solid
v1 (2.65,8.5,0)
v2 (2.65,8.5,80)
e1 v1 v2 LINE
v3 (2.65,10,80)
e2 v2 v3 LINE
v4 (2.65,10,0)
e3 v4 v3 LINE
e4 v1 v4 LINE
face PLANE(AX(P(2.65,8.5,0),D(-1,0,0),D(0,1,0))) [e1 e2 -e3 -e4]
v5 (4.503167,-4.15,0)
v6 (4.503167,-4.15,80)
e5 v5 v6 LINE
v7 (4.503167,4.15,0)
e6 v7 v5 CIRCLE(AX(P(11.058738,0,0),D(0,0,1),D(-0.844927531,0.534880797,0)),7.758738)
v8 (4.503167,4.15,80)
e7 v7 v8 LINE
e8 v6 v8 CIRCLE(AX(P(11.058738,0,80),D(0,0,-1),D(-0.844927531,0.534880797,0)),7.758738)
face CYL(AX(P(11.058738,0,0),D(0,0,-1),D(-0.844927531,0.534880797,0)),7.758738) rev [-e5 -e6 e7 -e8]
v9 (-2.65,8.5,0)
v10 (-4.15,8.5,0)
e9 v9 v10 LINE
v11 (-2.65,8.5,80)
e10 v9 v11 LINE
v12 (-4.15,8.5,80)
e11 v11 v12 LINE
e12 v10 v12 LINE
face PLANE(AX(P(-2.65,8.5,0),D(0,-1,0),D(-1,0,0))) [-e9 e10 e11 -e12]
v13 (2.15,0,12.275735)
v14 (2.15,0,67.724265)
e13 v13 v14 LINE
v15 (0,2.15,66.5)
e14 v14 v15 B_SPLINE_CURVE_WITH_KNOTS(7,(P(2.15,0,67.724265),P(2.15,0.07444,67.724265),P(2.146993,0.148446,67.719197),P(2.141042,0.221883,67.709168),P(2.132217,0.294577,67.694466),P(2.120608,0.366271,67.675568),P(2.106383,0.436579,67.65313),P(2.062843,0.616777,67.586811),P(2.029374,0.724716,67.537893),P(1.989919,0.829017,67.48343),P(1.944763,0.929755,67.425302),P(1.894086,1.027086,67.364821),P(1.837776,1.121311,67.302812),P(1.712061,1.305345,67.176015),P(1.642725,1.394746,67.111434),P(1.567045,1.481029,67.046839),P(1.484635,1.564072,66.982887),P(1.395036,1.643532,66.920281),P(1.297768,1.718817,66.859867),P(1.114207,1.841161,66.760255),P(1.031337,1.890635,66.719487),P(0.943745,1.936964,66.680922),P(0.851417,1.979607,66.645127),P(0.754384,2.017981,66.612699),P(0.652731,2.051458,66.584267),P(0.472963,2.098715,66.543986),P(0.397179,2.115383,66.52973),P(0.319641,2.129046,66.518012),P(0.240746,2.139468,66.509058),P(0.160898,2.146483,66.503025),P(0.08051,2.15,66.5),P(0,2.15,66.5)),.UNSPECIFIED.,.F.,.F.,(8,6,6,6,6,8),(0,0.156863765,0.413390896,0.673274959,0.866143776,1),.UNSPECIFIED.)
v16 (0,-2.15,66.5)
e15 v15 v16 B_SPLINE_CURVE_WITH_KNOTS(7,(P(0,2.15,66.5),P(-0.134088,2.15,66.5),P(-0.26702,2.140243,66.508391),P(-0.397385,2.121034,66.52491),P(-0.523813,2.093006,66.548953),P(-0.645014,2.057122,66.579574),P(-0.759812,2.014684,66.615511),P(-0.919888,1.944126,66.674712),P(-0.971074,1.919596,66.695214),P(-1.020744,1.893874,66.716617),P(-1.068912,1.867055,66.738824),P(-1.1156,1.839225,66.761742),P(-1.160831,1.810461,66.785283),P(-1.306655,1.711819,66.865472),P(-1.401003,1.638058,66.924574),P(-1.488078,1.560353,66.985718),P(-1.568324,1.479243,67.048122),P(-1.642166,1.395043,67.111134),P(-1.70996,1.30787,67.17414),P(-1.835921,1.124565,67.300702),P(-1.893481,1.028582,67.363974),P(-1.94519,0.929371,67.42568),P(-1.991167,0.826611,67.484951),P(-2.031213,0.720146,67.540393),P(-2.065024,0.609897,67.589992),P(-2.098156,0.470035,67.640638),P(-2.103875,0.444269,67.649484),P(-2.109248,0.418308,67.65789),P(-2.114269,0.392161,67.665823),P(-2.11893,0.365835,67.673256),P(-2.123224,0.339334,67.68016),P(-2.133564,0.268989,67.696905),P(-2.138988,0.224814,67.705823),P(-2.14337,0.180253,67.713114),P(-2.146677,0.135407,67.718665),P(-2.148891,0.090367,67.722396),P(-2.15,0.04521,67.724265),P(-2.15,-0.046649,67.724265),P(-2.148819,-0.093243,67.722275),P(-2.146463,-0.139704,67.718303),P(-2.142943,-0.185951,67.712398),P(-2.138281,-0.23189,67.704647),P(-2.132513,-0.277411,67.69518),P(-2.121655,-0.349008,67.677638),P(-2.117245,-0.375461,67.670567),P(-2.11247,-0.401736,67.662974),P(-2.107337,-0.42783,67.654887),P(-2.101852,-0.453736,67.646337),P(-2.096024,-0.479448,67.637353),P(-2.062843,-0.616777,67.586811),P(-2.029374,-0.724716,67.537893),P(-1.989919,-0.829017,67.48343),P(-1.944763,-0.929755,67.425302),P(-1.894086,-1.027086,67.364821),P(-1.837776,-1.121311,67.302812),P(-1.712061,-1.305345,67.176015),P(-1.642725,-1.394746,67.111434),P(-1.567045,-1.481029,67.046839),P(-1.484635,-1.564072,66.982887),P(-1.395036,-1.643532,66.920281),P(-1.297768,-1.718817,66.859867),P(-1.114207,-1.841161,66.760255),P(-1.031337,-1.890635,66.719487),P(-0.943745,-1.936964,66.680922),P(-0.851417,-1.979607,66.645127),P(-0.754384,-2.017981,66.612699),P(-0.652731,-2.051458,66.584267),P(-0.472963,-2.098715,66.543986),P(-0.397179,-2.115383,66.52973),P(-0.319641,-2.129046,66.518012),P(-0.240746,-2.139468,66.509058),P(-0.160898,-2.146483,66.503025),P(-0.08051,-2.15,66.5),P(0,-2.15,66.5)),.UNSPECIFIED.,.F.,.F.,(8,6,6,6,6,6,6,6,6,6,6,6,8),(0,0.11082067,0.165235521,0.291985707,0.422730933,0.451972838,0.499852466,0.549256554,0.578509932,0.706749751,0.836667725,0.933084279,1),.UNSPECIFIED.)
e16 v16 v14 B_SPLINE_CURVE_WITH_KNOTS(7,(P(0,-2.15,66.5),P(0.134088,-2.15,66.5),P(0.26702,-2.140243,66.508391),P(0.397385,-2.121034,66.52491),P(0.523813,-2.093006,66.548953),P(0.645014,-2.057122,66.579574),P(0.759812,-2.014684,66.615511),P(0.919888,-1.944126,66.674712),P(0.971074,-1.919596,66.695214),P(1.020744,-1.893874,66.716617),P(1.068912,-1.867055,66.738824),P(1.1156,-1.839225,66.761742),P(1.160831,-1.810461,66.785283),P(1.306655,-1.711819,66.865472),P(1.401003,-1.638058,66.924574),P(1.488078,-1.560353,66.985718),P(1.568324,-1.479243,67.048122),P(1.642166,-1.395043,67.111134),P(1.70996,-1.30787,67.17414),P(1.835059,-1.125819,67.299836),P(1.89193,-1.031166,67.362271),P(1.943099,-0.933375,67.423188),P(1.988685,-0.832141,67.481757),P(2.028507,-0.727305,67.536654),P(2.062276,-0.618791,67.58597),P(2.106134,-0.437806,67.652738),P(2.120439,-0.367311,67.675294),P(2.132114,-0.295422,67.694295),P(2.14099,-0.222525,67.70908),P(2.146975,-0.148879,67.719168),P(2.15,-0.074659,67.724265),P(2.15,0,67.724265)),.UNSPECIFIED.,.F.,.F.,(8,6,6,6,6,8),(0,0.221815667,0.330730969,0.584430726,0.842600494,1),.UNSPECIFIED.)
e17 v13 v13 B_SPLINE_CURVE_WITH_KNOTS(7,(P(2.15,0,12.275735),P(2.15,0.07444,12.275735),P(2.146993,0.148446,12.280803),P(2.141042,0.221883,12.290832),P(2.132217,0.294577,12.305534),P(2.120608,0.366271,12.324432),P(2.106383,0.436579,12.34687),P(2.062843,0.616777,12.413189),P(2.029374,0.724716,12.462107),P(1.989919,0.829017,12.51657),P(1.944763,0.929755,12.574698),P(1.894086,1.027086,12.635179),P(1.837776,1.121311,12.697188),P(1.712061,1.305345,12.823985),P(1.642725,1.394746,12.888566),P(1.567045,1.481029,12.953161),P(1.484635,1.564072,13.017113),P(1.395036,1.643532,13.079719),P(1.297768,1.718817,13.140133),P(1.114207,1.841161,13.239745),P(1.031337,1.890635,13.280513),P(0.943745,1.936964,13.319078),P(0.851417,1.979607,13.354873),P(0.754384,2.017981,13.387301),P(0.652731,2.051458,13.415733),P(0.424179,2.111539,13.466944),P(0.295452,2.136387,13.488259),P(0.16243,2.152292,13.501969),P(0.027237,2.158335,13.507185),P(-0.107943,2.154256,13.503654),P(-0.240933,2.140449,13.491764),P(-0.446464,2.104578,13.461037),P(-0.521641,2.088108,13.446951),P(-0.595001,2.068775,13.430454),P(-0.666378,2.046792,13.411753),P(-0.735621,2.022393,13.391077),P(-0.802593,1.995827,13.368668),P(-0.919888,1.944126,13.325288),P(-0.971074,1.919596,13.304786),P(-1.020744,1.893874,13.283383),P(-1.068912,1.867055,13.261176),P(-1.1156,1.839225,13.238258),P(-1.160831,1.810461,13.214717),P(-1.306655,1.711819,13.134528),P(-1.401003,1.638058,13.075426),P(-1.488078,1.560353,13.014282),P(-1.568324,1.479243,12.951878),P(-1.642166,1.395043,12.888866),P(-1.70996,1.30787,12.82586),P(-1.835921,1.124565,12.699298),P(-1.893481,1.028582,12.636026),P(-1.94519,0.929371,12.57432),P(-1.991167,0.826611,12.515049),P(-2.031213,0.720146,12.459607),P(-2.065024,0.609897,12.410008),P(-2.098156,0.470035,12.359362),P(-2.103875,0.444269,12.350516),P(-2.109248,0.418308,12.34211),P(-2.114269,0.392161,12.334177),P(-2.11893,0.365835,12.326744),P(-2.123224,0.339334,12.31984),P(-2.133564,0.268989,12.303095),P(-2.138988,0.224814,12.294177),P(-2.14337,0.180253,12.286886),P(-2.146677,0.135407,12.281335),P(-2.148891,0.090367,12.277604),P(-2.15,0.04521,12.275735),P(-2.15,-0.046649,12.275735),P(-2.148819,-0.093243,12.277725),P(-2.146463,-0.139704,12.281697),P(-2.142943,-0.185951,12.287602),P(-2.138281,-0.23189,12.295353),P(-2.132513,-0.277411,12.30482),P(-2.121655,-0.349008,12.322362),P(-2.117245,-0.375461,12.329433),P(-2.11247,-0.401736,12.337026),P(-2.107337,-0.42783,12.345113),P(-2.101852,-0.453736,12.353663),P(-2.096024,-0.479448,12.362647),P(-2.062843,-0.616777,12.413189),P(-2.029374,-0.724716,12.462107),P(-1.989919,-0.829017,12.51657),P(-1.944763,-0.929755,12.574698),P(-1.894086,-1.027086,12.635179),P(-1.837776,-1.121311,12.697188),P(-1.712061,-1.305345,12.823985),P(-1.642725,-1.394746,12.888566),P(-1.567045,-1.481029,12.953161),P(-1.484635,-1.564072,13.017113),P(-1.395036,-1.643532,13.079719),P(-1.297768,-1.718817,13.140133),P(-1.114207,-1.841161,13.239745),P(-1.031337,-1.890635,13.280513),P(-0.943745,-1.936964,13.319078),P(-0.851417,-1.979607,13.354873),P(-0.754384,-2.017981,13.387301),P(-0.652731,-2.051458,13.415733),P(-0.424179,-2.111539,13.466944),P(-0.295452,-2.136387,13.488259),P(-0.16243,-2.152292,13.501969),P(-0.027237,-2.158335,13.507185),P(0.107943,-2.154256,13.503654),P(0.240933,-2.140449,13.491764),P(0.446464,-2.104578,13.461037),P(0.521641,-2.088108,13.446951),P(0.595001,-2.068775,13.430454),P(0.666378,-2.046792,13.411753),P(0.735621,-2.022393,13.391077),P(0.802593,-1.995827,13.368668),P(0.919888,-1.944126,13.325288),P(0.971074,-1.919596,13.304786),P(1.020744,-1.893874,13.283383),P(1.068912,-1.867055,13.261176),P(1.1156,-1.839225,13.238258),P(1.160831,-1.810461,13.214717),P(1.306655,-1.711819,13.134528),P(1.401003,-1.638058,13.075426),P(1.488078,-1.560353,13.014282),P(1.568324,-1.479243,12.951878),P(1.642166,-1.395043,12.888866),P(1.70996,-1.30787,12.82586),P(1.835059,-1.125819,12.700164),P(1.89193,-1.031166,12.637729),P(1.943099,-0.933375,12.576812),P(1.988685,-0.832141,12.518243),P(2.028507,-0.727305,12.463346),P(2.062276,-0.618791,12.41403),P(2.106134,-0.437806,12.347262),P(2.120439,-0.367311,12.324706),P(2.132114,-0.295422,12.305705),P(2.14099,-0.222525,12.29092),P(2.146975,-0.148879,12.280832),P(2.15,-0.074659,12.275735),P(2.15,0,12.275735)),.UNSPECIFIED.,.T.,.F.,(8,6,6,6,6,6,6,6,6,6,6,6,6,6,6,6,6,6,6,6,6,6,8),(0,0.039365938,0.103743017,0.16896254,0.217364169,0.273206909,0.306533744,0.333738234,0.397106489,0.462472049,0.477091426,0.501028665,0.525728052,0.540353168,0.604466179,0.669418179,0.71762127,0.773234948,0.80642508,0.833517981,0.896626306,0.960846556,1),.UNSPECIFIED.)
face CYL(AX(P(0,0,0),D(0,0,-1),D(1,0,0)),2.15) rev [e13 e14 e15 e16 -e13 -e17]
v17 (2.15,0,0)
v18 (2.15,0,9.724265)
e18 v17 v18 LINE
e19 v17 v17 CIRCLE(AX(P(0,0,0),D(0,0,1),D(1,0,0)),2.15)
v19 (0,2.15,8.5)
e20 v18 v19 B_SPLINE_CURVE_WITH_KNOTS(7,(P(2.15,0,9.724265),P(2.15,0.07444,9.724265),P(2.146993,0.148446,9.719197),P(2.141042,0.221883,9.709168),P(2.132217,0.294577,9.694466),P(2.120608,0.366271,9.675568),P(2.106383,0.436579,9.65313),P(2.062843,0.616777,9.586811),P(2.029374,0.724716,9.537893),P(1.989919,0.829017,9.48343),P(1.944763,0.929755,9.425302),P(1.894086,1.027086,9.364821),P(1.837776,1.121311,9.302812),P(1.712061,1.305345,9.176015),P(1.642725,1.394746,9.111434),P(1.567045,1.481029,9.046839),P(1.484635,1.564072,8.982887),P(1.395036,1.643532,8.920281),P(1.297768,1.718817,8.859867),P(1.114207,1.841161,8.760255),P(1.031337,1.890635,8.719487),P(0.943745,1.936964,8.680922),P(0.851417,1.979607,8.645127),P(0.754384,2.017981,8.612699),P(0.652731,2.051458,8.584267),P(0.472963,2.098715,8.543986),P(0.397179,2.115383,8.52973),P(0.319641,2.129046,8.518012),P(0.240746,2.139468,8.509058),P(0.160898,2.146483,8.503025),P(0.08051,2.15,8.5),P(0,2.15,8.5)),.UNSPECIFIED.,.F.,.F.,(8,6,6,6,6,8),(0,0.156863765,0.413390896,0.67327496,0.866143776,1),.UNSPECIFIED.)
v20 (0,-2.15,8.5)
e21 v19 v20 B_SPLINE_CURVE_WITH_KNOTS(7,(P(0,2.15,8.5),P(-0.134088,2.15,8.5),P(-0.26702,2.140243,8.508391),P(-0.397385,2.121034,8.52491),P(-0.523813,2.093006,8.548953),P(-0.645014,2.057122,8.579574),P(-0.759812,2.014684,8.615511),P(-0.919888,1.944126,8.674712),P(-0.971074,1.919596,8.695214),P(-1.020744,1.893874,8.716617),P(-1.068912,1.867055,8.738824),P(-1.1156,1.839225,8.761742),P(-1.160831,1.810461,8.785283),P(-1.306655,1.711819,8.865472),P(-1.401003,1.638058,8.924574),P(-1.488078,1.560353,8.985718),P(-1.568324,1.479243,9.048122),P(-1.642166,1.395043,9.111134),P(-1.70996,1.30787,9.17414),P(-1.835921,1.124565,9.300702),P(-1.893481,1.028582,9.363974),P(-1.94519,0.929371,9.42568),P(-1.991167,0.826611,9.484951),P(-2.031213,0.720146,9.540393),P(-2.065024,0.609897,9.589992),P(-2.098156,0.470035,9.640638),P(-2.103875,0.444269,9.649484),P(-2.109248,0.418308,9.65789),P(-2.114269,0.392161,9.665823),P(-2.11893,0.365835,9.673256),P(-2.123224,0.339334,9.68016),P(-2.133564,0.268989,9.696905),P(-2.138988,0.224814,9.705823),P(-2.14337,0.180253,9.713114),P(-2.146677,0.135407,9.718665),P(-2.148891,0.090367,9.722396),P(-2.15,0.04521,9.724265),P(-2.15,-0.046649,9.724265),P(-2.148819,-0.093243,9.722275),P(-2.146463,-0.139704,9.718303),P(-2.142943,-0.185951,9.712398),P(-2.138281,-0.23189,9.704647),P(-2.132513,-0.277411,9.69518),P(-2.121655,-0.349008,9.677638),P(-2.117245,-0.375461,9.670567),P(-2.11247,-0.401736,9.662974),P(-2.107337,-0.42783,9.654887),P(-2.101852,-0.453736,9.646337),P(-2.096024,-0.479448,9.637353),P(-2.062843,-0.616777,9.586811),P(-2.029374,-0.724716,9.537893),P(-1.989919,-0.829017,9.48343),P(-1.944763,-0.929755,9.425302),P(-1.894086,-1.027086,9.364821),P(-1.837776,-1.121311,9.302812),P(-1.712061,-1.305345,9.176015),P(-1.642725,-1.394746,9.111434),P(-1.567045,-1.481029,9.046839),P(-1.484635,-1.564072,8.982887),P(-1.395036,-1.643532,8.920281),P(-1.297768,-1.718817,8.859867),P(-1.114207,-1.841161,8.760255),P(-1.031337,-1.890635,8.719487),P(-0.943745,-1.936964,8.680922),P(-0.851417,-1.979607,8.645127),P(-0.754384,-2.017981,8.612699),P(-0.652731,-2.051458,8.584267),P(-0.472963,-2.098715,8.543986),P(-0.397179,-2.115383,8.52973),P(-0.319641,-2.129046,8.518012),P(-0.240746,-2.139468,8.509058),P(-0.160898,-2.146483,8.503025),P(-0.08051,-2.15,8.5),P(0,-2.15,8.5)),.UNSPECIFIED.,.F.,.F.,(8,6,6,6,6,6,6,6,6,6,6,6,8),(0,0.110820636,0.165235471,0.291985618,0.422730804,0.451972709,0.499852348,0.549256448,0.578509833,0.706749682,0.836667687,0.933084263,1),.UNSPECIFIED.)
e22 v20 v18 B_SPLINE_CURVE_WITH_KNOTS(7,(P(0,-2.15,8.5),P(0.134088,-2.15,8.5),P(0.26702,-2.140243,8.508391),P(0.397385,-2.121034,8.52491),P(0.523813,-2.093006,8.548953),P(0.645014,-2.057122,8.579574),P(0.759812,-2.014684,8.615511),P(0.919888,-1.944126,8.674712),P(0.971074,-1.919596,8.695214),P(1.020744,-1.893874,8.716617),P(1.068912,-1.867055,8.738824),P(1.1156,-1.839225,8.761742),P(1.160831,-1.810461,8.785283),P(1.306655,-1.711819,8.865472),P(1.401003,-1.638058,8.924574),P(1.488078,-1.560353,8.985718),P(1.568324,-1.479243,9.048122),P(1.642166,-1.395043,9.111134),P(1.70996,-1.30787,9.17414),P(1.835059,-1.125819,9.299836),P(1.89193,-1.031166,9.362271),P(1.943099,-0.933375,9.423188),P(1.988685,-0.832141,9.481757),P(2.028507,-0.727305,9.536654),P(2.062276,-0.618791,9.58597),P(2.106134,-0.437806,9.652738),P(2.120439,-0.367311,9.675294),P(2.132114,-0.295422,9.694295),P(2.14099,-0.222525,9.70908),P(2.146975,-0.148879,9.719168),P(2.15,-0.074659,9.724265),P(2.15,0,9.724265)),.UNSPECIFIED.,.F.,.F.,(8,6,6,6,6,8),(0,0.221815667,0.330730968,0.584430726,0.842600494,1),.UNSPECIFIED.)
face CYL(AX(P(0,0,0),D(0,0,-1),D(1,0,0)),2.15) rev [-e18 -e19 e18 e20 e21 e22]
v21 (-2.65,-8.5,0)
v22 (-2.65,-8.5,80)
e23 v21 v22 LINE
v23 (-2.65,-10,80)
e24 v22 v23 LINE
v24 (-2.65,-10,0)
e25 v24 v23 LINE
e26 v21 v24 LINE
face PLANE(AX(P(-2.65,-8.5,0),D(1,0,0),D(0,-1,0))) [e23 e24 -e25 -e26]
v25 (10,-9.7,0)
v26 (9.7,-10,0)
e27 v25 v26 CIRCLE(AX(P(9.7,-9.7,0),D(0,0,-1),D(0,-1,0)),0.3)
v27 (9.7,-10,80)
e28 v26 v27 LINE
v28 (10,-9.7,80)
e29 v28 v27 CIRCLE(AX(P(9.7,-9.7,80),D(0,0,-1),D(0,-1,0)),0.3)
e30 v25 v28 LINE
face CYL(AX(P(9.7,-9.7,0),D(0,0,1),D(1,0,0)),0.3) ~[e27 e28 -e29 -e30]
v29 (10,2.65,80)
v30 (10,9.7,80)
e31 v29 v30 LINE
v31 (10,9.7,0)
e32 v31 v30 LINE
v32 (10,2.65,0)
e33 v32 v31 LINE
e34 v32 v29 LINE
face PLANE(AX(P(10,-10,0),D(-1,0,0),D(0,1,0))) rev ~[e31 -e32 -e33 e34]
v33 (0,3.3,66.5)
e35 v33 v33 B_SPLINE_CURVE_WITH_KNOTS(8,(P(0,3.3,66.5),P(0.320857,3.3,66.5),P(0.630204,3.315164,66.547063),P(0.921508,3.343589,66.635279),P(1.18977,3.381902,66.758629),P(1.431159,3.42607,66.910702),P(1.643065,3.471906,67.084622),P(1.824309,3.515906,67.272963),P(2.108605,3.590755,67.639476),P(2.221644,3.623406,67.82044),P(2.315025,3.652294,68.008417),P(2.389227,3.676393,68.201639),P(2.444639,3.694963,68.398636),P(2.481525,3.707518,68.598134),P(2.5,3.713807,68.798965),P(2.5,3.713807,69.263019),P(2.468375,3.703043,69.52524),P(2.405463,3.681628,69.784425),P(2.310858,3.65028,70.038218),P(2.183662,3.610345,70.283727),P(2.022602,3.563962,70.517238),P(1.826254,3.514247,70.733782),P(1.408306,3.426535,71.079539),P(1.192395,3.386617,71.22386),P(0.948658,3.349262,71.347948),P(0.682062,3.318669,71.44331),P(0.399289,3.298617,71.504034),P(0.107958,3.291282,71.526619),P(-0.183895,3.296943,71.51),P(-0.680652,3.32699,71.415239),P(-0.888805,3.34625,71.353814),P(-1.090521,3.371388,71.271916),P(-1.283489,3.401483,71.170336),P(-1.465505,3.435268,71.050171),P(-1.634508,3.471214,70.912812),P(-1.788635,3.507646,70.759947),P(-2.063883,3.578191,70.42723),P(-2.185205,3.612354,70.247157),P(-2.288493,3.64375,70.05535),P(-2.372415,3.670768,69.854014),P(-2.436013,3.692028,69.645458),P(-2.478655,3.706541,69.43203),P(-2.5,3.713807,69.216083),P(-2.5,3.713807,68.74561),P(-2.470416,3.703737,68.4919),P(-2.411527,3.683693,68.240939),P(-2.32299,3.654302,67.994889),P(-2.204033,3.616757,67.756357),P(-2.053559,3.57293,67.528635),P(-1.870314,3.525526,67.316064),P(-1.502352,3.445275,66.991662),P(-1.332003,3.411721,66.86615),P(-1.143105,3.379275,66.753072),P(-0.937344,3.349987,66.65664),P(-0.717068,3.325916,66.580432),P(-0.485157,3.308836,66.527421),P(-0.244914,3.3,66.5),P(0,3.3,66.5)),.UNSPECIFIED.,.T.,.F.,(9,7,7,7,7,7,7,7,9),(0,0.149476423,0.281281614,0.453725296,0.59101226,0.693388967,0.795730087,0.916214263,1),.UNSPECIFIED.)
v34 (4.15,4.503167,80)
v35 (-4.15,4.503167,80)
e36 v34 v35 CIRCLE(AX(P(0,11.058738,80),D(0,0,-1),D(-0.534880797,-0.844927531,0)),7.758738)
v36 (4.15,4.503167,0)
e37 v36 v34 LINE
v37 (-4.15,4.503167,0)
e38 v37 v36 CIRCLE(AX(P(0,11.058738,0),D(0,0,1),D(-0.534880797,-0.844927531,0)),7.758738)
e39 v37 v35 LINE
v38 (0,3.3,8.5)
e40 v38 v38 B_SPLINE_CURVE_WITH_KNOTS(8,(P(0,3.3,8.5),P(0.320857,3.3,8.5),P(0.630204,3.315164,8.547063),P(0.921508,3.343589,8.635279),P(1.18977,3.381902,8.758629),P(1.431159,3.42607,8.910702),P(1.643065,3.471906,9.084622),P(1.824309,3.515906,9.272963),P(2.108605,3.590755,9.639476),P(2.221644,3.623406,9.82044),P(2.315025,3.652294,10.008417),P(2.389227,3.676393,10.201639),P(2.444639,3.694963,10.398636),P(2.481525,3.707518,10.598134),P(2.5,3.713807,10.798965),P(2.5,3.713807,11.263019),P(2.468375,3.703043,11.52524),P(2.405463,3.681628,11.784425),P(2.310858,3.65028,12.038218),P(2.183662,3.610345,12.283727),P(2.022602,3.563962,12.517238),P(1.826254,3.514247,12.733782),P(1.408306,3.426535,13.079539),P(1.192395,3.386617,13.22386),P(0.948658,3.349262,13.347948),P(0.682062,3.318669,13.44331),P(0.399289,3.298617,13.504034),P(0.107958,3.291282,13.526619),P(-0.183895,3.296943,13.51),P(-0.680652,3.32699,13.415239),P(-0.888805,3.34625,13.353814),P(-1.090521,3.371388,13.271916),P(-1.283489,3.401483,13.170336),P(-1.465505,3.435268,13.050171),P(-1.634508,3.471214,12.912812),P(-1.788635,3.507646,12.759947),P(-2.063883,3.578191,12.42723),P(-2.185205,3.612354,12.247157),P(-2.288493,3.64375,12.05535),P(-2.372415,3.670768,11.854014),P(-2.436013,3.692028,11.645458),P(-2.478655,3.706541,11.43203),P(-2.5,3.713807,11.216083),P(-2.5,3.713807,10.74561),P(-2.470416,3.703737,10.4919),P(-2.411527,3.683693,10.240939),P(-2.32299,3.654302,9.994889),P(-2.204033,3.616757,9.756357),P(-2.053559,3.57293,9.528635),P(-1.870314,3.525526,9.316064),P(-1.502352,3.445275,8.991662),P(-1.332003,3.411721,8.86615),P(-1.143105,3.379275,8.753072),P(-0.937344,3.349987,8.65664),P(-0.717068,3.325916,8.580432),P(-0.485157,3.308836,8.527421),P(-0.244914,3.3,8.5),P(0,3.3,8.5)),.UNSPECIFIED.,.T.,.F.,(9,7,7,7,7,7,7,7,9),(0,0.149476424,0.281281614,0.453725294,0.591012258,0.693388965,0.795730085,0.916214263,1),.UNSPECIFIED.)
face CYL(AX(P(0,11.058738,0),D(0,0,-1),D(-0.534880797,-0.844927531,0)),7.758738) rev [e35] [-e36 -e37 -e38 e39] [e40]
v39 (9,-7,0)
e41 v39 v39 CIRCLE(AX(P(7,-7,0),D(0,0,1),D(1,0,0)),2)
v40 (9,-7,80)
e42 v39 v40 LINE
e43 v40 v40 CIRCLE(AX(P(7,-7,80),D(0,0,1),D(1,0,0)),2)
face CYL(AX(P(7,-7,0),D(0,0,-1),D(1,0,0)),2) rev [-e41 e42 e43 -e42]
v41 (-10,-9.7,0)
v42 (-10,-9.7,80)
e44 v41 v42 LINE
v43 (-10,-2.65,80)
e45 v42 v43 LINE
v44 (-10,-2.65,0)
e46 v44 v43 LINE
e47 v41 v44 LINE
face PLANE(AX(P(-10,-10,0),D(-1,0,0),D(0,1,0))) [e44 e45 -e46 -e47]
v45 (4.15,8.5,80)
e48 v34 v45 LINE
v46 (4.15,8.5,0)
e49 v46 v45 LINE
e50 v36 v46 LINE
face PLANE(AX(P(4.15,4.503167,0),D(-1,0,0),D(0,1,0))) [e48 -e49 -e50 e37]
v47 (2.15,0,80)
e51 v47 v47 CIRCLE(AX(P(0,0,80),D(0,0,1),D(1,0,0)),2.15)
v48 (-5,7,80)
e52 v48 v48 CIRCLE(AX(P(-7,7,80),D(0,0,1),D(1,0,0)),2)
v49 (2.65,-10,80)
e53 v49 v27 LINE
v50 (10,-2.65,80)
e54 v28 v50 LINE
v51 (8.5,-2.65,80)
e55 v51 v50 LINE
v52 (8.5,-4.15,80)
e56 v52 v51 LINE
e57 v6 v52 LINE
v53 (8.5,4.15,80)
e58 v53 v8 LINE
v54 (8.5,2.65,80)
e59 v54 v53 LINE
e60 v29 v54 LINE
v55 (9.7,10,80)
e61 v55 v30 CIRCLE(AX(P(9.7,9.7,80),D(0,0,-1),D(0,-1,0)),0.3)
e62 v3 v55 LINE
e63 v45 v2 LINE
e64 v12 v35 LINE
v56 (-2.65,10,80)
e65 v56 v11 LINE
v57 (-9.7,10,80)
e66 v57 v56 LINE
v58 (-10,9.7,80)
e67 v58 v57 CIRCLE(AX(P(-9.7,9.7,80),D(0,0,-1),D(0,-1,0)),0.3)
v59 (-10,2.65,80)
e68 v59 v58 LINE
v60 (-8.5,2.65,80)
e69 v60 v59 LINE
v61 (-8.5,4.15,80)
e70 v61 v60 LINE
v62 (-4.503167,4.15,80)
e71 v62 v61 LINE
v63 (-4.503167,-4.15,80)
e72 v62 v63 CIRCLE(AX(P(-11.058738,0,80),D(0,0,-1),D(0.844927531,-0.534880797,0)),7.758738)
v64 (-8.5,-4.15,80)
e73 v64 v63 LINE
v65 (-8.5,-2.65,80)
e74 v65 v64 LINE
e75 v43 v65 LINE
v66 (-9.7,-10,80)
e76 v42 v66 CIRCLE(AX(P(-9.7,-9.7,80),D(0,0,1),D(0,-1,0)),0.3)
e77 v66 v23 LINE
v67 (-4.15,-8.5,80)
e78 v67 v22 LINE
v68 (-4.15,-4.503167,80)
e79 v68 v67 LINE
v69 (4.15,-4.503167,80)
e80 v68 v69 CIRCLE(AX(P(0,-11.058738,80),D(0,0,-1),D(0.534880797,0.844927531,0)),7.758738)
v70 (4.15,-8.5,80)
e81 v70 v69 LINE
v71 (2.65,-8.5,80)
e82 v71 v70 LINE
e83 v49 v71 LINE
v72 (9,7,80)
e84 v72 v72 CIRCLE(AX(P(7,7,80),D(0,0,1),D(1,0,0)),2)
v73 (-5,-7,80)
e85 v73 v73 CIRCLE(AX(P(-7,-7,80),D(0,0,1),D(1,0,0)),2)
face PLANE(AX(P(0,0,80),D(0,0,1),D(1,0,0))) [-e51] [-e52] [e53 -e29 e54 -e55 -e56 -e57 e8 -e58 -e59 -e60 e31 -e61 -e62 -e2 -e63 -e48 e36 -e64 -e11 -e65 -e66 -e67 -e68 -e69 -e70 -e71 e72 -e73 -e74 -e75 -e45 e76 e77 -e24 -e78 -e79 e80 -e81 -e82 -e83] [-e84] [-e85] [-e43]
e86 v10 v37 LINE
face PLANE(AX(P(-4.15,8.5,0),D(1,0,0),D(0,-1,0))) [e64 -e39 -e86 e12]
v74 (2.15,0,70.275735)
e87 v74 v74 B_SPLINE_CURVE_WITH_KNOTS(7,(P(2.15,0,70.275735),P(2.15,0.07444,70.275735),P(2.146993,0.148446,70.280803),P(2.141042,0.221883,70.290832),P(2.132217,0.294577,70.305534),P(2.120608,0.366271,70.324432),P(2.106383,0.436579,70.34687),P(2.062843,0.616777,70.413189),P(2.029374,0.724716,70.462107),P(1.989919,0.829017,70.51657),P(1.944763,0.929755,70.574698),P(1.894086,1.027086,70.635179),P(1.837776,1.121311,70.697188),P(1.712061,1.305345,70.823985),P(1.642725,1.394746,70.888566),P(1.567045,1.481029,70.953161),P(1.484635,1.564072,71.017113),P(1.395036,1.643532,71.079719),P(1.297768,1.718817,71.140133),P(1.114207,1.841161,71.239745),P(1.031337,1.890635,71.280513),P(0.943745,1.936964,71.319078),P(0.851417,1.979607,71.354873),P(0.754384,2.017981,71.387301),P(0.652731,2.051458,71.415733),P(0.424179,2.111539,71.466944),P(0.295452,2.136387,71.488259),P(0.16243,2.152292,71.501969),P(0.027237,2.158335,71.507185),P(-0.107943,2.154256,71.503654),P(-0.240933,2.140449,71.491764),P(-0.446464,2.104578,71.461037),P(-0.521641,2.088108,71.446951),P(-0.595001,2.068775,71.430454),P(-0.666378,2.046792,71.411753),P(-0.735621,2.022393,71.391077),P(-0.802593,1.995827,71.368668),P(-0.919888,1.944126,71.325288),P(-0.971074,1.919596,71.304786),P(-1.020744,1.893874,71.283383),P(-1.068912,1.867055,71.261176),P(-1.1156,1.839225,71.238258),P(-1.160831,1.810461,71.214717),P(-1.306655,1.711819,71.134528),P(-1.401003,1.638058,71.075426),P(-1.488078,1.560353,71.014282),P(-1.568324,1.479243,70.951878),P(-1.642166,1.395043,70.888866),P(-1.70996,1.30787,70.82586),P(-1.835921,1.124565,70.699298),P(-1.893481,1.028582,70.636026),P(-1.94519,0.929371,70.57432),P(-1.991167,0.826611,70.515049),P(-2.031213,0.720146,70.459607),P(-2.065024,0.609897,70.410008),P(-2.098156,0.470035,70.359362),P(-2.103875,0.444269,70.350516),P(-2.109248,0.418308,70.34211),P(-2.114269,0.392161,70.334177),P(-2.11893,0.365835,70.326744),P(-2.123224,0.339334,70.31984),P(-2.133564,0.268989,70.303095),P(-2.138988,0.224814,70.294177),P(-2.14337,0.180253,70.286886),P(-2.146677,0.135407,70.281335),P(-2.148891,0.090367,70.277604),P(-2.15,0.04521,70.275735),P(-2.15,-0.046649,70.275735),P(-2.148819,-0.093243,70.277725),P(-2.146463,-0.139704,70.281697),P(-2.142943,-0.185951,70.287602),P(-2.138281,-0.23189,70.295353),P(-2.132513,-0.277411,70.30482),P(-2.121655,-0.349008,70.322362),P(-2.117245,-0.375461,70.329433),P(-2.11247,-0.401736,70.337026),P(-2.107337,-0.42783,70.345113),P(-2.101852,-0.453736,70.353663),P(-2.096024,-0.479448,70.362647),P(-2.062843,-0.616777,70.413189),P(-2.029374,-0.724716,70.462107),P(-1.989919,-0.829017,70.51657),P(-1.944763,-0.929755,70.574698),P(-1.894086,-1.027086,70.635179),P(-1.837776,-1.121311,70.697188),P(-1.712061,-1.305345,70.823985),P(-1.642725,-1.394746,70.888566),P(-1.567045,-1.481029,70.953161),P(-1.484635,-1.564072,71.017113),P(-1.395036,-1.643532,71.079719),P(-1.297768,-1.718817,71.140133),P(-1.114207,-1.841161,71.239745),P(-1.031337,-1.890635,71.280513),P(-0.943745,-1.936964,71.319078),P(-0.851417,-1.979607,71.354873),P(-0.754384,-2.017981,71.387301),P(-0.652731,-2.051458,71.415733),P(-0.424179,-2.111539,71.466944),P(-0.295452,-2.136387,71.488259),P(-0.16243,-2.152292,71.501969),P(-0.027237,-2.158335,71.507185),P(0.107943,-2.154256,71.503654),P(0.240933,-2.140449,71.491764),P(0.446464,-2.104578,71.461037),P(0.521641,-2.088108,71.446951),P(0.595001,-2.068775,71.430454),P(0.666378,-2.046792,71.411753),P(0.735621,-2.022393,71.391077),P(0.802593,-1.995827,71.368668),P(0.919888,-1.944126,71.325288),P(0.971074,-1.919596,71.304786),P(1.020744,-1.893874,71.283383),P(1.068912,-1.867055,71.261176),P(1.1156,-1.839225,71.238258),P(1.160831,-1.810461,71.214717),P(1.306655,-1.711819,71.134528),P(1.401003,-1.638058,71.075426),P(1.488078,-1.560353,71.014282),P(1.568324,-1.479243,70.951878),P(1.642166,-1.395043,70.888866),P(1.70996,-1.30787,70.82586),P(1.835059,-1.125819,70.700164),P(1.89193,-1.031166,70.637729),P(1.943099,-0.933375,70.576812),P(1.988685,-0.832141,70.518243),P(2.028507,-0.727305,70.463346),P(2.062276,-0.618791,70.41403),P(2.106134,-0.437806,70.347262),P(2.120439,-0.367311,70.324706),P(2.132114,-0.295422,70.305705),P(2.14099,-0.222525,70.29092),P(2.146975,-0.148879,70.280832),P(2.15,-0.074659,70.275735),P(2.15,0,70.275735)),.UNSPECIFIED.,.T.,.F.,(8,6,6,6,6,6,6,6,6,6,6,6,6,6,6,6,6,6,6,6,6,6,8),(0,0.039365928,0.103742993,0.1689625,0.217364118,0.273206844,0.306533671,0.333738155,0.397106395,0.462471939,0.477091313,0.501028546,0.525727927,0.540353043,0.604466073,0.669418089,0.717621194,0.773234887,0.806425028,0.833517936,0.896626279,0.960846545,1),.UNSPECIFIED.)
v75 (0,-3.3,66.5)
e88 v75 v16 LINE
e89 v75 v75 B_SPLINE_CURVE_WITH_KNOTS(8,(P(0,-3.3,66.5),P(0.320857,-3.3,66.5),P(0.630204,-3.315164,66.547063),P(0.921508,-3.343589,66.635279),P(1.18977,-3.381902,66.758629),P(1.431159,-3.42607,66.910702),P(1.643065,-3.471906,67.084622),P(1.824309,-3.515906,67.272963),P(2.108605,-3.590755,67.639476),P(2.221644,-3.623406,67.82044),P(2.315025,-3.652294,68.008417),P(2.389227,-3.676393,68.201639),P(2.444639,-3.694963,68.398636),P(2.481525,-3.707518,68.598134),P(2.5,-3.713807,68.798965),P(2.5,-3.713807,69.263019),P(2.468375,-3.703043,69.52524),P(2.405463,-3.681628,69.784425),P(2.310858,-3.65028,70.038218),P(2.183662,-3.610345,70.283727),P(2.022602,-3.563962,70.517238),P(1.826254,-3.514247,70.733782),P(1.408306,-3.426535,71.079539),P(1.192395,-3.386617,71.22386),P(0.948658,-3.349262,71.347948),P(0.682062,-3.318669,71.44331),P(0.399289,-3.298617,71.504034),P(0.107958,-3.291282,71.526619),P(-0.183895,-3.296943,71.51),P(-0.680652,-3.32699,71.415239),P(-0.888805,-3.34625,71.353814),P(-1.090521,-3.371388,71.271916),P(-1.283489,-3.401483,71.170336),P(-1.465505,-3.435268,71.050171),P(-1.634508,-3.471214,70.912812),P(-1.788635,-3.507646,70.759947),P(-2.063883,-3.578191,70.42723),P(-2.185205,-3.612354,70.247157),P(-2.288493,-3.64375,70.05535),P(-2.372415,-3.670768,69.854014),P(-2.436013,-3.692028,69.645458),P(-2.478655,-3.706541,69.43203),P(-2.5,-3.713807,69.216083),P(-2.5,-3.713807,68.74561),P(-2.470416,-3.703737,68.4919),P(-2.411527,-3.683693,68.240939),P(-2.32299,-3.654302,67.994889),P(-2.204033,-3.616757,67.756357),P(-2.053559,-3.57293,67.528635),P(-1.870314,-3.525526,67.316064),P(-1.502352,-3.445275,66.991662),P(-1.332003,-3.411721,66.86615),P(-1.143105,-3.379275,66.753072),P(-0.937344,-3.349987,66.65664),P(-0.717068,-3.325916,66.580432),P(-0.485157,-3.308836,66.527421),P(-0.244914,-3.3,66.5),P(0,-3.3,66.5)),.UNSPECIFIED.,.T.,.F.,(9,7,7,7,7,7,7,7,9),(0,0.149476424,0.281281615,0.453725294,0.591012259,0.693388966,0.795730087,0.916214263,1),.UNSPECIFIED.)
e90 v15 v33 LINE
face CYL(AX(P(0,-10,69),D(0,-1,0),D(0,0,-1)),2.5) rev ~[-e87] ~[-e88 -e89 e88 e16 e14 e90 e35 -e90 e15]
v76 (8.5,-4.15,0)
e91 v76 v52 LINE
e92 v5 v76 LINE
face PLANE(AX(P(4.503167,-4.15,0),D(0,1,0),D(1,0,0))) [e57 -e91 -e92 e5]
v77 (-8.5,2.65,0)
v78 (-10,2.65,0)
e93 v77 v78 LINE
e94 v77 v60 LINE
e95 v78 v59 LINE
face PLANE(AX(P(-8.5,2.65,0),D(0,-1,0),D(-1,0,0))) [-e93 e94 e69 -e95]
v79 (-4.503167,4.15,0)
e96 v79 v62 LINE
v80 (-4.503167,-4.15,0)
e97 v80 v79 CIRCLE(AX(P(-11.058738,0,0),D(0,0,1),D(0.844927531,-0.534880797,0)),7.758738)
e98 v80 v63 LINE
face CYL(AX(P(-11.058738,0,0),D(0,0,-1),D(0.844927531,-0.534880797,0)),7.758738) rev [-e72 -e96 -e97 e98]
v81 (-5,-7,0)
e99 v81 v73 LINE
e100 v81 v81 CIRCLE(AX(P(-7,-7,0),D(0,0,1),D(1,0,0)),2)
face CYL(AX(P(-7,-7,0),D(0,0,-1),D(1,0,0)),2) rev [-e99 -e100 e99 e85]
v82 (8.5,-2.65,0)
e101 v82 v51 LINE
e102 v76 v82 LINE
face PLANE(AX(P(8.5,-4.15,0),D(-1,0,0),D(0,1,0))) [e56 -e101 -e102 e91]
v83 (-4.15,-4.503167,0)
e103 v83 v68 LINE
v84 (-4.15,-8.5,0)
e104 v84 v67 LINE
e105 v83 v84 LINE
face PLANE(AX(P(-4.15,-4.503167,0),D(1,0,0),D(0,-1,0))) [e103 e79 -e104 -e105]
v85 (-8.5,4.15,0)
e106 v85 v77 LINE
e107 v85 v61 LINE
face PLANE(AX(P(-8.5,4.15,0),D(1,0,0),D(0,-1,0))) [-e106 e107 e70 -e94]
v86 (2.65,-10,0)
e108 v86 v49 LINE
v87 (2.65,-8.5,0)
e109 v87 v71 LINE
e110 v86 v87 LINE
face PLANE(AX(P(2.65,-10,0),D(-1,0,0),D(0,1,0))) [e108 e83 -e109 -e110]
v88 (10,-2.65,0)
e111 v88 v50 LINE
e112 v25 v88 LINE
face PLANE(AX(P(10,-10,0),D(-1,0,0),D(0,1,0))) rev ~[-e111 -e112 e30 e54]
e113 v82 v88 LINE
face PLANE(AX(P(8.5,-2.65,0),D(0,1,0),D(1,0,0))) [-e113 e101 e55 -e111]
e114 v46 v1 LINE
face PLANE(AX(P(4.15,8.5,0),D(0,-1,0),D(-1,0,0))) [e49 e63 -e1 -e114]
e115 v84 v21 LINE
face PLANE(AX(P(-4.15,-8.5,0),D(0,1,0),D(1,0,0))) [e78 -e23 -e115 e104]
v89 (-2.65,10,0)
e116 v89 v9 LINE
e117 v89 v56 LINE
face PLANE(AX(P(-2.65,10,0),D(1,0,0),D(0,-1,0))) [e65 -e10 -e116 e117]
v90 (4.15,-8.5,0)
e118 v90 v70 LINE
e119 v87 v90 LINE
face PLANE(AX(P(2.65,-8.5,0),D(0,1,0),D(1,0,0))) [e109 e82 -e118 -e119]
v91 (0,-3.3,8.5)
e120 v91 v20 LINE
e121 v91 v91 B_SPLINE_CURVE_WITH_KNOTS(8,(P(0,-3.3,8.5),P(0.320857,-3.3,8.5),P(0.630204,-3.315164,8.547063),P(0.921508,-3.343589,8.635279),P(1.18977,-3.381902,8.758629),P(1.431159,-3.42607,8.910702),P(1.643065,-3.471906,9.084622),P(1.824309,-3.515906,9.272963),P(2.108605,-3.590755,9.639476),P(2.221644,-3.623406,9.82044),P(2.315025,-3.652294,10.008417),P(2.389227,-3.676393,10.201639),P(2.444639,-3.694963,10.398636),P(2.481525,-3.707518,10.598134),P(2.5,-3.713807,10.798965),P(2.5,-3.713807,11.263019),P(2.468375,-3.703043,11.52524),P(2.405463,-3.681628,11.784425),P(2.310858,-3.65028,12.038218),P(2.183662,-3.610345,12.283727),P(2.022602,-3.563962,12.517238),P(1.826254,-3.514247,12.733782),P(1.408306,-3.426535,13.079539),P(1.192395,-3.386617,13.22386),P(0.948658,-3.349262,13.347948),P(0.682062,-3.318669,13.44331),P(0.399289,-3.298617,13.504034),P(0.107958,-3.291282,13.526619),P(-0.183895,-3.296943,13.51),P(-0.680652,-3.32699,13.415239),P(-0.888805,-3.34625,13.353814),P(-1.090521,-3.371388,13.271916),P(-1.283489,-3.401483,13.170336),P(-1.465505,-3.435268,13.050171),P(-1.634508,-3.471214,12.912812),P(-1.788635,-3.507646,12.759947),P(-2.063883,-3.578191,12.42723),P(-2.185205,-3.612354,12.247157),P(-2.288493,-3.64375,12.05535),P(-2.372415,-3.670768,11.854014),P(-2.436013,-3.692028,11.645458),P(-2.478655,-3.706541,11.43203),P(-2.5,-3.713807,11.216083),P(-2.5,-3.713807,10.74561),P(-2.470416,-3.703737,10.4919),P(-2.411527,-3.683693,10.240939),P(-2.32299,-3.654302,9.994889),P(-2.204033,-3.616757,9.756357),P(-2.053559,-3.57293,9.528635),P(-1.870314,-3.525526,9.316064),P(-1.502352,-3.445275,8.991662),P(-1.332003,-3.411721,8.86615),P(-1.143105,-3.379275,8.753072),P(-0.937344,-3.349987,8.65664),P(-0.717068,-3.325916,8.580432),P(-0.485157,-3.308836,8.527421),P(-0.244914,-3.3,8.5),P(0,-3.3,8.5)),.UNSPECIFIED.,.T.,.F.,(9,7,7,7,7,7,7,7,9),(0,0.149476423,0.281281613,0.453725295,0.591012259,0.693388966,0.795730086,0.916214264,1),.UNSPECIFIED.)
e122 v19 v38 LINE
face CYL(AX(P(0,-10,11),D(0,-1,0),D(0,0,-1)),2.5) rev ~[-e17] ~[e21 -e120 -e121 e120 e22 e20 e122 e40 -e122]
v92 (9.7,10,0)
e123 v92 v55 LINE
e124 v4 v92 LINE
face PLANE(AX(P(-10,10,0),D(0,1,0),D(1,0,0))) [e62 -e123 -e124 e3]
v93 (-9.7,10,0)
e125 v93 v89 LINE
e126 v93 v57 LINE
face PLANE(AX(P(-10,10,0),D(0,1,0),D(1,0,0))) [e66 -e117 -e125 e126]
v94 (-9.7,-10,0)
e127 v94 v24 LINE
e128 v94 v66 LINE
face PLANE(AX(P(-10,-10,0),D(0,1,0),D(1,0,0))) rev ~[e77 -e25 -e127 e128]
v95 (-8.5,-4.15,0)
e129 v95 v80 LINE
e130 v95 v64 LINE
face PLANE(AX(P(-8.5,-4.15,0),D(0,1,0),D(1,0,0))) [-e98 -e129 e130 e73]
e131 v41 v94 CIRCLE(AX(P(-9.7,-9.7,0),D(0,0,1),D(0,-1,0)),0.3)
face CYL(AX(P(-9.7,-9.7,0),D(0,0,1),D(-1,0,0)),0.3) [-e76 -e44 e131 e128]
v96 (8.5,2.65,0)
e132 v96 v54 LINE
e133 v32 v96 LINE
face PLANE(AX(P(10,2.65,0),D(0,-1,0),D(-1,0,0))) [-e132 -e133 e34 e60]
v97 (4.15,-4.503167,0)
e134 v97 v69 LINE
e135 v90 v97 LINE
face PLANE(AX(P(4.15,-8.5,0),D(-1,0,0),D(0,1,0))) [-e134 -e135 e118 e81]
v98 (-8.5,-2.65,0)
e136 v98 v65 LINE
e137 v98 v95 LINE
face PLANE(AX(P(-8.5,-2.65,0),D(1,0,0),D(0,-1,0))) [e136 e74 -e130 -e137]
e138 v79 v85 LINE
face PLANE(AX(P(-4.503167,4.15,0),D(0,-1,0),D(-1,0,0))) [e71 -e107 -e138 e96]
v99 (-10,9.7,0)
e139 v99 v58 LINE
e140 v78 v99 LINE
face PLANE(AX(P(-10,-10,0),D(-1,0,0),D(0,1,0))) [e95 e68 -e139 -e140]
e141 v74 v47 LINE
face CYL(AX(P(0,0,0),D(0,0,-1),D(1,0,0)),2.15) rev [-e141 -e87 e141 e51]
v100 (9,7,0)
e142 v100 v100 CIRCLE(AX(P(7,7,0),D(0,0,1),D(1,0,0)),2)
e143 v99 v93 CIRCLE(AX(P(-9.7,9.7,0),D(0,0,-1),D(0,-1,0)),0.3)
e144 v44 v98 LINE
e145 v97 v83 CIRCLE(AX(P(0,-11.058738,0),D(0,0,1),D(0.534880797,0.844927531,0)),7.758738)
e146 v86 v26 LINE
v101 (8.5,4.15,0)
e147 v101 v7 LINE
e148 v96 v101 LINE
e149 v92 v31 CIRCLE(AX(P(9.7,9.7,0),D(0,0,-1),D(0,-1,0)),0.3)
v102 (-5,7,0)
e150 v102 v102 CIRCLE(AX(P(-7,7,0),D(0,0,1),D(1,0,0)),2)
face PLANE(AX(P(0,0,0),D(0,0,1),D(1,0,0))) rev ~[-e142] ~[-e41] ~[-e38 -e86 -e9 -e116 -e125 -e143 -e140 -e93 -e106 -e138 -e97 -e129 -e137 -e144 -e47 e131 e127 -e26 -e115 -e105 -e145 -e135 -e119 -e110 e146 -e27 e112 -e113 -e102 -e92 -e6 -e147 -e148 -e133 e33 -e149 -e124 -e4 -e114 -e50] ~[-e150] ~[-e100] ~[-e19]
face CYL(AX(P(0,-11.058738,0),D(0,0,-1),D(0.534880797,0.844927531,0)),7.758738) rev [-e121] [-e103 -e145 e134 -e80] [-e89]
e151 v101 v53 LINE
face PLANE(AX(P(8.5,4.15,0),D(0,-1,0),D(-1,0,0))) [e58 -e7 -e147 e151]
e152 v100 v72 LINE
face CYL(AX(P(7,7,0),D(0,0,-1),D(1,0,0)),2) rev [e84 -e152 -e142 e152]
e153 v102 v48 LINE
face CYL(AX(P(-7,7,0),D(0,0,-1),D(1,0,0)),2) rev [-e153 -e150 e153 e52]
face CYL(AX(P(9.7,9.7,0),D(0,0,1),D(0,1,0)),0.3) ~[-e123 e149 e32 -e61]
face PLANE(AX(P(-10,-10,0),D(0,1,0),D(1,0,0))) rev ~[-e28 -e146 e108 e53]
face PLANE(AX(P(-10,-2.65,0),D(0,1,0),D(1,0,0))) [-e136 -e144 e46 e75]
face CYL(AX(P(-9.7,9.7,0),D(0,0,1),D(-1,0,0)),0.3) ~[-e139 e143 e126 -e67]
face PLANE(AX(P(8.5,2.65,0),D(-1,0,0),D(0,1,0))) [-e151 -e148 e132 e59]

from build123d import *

# Parameters (mm, degrees)
SKETCH_1_W               = 20
SKETCH_1_H               = 20
SKETCH_1_R               = 2
SKETCH_1_R_2             = 2.15
EXTRUDE_1_DEPTH          = 80
CUT_EXTRUDE_1_REACH      = 83.24
PATTERN_CIRCULAR_1_COUNT = 4
FILLET_1_R               = 0.3
SKETCH_3_R               = 2.5
CUT_EXTRUDE_2_DEPTH      = 84.066238629


with BuildPart() as part:
    # 스케치1 → 보스-돌출1 (new body)
    with BuildSketch(Plane.XY):
        Rectangle(SKETCH_1_W, SKETCH_1_H)
        with Locations((-7, -7)):
            Circle(SKETCH_1_R, mode=Mode.SUBTRACT)
        with Locations((7, -7)):
            Circle(SKETCH_1_R, mode=Mode.SUBTRACT)
        with Locations((-7, 7)):
            Circle(SKETCH_1_R, mode=Mode.SUBTRACT)
        Circle(SKETCH_1_R_2, mode=Mode.SUBTRACT)
        with Locations((7, 7)):
            Circle(SKETCH_1_R, mode=Mode.SUBTRACT)
    extrude(amount=EXTRUDE_1_DEPTH)

    # 스케치1<3> → 컷-돌출1 (cut, up to next)
    with BuildSketch(Plane.XY, mode=Mode.PRIVATE) as cut_extrude_1_sk1:
        with BuildLine():
            Line((-8.5, 2.65), (-10, 2.65))
            Line((-10, 2.65), (-10, -2.65))
            Line((-10, -2.65), (-8.5, -2.65))
            Line((-8.5, -2.65), (-8.5, -4.15))
            Line((-8.5, -4.15), (-4.503166667, -4.15))
            ThreePointArc((-4.503166667, -4.15), (-3.3, 0), (-4.503166667, 4.15))
            Line((-4.503166667, 4.15), (-8.5, 4.15))
            Line((-8.5, 4.15), (-8.5, 2.65))
        make_face()
    cut_extrude_1_tool1 = extrude(cut_extrude_1_sk1.sketch, amount=CUT_EXTRUDE_1_REACH, mode=Mode.PRIVATE) & part.part
    cut_extrude_1 = cut_extrude_1_tool1.solids().sort_by_distance((-6.606913, 0, 0))[0]
    add(cut_extrude_1, mode=Mode.SUBTRACT)

    # 원형 패턴1: 컷-돌출1 ×4 about axis
    pattern_circular_1_axis = Axis((0, 0, 80), (0, 0, -1))
    for i in range(1, PATTERN_CIRCULAR_1_COUNT):
        add(cut_extrude_1.rotate(pattern_circular_1_axis, i * 360 / PATTERN_CIRCULAR_1_COUNT), mode=Mode.SUBTRACT)

    # 필렛1
    fillet_1_edges = [part.edges().sort_by_distance(p)[0] for p in [
        (10, -10, 40),
        (-10, -10, 40),
        (-10, 10, 40),
        (10, 10, 40),
    ]]
    fillet(fillet_1_edges, radius=FILLET_1_R)

    # 스케치3 → 컷-돌출2 (cut, through all)
    with BuildSketch(Plane.XZ.offset(10)):
        with Locations((0, 69)):
            Circle(SKETCH_3_R)
        with Locations((0, 11)):
            Circle(SKETCH_3_R)
    extrude(amount=-CUT_EXTRUDE_2_DEPTH, mode=Mode.SUBTRACT)


solid = part.part
